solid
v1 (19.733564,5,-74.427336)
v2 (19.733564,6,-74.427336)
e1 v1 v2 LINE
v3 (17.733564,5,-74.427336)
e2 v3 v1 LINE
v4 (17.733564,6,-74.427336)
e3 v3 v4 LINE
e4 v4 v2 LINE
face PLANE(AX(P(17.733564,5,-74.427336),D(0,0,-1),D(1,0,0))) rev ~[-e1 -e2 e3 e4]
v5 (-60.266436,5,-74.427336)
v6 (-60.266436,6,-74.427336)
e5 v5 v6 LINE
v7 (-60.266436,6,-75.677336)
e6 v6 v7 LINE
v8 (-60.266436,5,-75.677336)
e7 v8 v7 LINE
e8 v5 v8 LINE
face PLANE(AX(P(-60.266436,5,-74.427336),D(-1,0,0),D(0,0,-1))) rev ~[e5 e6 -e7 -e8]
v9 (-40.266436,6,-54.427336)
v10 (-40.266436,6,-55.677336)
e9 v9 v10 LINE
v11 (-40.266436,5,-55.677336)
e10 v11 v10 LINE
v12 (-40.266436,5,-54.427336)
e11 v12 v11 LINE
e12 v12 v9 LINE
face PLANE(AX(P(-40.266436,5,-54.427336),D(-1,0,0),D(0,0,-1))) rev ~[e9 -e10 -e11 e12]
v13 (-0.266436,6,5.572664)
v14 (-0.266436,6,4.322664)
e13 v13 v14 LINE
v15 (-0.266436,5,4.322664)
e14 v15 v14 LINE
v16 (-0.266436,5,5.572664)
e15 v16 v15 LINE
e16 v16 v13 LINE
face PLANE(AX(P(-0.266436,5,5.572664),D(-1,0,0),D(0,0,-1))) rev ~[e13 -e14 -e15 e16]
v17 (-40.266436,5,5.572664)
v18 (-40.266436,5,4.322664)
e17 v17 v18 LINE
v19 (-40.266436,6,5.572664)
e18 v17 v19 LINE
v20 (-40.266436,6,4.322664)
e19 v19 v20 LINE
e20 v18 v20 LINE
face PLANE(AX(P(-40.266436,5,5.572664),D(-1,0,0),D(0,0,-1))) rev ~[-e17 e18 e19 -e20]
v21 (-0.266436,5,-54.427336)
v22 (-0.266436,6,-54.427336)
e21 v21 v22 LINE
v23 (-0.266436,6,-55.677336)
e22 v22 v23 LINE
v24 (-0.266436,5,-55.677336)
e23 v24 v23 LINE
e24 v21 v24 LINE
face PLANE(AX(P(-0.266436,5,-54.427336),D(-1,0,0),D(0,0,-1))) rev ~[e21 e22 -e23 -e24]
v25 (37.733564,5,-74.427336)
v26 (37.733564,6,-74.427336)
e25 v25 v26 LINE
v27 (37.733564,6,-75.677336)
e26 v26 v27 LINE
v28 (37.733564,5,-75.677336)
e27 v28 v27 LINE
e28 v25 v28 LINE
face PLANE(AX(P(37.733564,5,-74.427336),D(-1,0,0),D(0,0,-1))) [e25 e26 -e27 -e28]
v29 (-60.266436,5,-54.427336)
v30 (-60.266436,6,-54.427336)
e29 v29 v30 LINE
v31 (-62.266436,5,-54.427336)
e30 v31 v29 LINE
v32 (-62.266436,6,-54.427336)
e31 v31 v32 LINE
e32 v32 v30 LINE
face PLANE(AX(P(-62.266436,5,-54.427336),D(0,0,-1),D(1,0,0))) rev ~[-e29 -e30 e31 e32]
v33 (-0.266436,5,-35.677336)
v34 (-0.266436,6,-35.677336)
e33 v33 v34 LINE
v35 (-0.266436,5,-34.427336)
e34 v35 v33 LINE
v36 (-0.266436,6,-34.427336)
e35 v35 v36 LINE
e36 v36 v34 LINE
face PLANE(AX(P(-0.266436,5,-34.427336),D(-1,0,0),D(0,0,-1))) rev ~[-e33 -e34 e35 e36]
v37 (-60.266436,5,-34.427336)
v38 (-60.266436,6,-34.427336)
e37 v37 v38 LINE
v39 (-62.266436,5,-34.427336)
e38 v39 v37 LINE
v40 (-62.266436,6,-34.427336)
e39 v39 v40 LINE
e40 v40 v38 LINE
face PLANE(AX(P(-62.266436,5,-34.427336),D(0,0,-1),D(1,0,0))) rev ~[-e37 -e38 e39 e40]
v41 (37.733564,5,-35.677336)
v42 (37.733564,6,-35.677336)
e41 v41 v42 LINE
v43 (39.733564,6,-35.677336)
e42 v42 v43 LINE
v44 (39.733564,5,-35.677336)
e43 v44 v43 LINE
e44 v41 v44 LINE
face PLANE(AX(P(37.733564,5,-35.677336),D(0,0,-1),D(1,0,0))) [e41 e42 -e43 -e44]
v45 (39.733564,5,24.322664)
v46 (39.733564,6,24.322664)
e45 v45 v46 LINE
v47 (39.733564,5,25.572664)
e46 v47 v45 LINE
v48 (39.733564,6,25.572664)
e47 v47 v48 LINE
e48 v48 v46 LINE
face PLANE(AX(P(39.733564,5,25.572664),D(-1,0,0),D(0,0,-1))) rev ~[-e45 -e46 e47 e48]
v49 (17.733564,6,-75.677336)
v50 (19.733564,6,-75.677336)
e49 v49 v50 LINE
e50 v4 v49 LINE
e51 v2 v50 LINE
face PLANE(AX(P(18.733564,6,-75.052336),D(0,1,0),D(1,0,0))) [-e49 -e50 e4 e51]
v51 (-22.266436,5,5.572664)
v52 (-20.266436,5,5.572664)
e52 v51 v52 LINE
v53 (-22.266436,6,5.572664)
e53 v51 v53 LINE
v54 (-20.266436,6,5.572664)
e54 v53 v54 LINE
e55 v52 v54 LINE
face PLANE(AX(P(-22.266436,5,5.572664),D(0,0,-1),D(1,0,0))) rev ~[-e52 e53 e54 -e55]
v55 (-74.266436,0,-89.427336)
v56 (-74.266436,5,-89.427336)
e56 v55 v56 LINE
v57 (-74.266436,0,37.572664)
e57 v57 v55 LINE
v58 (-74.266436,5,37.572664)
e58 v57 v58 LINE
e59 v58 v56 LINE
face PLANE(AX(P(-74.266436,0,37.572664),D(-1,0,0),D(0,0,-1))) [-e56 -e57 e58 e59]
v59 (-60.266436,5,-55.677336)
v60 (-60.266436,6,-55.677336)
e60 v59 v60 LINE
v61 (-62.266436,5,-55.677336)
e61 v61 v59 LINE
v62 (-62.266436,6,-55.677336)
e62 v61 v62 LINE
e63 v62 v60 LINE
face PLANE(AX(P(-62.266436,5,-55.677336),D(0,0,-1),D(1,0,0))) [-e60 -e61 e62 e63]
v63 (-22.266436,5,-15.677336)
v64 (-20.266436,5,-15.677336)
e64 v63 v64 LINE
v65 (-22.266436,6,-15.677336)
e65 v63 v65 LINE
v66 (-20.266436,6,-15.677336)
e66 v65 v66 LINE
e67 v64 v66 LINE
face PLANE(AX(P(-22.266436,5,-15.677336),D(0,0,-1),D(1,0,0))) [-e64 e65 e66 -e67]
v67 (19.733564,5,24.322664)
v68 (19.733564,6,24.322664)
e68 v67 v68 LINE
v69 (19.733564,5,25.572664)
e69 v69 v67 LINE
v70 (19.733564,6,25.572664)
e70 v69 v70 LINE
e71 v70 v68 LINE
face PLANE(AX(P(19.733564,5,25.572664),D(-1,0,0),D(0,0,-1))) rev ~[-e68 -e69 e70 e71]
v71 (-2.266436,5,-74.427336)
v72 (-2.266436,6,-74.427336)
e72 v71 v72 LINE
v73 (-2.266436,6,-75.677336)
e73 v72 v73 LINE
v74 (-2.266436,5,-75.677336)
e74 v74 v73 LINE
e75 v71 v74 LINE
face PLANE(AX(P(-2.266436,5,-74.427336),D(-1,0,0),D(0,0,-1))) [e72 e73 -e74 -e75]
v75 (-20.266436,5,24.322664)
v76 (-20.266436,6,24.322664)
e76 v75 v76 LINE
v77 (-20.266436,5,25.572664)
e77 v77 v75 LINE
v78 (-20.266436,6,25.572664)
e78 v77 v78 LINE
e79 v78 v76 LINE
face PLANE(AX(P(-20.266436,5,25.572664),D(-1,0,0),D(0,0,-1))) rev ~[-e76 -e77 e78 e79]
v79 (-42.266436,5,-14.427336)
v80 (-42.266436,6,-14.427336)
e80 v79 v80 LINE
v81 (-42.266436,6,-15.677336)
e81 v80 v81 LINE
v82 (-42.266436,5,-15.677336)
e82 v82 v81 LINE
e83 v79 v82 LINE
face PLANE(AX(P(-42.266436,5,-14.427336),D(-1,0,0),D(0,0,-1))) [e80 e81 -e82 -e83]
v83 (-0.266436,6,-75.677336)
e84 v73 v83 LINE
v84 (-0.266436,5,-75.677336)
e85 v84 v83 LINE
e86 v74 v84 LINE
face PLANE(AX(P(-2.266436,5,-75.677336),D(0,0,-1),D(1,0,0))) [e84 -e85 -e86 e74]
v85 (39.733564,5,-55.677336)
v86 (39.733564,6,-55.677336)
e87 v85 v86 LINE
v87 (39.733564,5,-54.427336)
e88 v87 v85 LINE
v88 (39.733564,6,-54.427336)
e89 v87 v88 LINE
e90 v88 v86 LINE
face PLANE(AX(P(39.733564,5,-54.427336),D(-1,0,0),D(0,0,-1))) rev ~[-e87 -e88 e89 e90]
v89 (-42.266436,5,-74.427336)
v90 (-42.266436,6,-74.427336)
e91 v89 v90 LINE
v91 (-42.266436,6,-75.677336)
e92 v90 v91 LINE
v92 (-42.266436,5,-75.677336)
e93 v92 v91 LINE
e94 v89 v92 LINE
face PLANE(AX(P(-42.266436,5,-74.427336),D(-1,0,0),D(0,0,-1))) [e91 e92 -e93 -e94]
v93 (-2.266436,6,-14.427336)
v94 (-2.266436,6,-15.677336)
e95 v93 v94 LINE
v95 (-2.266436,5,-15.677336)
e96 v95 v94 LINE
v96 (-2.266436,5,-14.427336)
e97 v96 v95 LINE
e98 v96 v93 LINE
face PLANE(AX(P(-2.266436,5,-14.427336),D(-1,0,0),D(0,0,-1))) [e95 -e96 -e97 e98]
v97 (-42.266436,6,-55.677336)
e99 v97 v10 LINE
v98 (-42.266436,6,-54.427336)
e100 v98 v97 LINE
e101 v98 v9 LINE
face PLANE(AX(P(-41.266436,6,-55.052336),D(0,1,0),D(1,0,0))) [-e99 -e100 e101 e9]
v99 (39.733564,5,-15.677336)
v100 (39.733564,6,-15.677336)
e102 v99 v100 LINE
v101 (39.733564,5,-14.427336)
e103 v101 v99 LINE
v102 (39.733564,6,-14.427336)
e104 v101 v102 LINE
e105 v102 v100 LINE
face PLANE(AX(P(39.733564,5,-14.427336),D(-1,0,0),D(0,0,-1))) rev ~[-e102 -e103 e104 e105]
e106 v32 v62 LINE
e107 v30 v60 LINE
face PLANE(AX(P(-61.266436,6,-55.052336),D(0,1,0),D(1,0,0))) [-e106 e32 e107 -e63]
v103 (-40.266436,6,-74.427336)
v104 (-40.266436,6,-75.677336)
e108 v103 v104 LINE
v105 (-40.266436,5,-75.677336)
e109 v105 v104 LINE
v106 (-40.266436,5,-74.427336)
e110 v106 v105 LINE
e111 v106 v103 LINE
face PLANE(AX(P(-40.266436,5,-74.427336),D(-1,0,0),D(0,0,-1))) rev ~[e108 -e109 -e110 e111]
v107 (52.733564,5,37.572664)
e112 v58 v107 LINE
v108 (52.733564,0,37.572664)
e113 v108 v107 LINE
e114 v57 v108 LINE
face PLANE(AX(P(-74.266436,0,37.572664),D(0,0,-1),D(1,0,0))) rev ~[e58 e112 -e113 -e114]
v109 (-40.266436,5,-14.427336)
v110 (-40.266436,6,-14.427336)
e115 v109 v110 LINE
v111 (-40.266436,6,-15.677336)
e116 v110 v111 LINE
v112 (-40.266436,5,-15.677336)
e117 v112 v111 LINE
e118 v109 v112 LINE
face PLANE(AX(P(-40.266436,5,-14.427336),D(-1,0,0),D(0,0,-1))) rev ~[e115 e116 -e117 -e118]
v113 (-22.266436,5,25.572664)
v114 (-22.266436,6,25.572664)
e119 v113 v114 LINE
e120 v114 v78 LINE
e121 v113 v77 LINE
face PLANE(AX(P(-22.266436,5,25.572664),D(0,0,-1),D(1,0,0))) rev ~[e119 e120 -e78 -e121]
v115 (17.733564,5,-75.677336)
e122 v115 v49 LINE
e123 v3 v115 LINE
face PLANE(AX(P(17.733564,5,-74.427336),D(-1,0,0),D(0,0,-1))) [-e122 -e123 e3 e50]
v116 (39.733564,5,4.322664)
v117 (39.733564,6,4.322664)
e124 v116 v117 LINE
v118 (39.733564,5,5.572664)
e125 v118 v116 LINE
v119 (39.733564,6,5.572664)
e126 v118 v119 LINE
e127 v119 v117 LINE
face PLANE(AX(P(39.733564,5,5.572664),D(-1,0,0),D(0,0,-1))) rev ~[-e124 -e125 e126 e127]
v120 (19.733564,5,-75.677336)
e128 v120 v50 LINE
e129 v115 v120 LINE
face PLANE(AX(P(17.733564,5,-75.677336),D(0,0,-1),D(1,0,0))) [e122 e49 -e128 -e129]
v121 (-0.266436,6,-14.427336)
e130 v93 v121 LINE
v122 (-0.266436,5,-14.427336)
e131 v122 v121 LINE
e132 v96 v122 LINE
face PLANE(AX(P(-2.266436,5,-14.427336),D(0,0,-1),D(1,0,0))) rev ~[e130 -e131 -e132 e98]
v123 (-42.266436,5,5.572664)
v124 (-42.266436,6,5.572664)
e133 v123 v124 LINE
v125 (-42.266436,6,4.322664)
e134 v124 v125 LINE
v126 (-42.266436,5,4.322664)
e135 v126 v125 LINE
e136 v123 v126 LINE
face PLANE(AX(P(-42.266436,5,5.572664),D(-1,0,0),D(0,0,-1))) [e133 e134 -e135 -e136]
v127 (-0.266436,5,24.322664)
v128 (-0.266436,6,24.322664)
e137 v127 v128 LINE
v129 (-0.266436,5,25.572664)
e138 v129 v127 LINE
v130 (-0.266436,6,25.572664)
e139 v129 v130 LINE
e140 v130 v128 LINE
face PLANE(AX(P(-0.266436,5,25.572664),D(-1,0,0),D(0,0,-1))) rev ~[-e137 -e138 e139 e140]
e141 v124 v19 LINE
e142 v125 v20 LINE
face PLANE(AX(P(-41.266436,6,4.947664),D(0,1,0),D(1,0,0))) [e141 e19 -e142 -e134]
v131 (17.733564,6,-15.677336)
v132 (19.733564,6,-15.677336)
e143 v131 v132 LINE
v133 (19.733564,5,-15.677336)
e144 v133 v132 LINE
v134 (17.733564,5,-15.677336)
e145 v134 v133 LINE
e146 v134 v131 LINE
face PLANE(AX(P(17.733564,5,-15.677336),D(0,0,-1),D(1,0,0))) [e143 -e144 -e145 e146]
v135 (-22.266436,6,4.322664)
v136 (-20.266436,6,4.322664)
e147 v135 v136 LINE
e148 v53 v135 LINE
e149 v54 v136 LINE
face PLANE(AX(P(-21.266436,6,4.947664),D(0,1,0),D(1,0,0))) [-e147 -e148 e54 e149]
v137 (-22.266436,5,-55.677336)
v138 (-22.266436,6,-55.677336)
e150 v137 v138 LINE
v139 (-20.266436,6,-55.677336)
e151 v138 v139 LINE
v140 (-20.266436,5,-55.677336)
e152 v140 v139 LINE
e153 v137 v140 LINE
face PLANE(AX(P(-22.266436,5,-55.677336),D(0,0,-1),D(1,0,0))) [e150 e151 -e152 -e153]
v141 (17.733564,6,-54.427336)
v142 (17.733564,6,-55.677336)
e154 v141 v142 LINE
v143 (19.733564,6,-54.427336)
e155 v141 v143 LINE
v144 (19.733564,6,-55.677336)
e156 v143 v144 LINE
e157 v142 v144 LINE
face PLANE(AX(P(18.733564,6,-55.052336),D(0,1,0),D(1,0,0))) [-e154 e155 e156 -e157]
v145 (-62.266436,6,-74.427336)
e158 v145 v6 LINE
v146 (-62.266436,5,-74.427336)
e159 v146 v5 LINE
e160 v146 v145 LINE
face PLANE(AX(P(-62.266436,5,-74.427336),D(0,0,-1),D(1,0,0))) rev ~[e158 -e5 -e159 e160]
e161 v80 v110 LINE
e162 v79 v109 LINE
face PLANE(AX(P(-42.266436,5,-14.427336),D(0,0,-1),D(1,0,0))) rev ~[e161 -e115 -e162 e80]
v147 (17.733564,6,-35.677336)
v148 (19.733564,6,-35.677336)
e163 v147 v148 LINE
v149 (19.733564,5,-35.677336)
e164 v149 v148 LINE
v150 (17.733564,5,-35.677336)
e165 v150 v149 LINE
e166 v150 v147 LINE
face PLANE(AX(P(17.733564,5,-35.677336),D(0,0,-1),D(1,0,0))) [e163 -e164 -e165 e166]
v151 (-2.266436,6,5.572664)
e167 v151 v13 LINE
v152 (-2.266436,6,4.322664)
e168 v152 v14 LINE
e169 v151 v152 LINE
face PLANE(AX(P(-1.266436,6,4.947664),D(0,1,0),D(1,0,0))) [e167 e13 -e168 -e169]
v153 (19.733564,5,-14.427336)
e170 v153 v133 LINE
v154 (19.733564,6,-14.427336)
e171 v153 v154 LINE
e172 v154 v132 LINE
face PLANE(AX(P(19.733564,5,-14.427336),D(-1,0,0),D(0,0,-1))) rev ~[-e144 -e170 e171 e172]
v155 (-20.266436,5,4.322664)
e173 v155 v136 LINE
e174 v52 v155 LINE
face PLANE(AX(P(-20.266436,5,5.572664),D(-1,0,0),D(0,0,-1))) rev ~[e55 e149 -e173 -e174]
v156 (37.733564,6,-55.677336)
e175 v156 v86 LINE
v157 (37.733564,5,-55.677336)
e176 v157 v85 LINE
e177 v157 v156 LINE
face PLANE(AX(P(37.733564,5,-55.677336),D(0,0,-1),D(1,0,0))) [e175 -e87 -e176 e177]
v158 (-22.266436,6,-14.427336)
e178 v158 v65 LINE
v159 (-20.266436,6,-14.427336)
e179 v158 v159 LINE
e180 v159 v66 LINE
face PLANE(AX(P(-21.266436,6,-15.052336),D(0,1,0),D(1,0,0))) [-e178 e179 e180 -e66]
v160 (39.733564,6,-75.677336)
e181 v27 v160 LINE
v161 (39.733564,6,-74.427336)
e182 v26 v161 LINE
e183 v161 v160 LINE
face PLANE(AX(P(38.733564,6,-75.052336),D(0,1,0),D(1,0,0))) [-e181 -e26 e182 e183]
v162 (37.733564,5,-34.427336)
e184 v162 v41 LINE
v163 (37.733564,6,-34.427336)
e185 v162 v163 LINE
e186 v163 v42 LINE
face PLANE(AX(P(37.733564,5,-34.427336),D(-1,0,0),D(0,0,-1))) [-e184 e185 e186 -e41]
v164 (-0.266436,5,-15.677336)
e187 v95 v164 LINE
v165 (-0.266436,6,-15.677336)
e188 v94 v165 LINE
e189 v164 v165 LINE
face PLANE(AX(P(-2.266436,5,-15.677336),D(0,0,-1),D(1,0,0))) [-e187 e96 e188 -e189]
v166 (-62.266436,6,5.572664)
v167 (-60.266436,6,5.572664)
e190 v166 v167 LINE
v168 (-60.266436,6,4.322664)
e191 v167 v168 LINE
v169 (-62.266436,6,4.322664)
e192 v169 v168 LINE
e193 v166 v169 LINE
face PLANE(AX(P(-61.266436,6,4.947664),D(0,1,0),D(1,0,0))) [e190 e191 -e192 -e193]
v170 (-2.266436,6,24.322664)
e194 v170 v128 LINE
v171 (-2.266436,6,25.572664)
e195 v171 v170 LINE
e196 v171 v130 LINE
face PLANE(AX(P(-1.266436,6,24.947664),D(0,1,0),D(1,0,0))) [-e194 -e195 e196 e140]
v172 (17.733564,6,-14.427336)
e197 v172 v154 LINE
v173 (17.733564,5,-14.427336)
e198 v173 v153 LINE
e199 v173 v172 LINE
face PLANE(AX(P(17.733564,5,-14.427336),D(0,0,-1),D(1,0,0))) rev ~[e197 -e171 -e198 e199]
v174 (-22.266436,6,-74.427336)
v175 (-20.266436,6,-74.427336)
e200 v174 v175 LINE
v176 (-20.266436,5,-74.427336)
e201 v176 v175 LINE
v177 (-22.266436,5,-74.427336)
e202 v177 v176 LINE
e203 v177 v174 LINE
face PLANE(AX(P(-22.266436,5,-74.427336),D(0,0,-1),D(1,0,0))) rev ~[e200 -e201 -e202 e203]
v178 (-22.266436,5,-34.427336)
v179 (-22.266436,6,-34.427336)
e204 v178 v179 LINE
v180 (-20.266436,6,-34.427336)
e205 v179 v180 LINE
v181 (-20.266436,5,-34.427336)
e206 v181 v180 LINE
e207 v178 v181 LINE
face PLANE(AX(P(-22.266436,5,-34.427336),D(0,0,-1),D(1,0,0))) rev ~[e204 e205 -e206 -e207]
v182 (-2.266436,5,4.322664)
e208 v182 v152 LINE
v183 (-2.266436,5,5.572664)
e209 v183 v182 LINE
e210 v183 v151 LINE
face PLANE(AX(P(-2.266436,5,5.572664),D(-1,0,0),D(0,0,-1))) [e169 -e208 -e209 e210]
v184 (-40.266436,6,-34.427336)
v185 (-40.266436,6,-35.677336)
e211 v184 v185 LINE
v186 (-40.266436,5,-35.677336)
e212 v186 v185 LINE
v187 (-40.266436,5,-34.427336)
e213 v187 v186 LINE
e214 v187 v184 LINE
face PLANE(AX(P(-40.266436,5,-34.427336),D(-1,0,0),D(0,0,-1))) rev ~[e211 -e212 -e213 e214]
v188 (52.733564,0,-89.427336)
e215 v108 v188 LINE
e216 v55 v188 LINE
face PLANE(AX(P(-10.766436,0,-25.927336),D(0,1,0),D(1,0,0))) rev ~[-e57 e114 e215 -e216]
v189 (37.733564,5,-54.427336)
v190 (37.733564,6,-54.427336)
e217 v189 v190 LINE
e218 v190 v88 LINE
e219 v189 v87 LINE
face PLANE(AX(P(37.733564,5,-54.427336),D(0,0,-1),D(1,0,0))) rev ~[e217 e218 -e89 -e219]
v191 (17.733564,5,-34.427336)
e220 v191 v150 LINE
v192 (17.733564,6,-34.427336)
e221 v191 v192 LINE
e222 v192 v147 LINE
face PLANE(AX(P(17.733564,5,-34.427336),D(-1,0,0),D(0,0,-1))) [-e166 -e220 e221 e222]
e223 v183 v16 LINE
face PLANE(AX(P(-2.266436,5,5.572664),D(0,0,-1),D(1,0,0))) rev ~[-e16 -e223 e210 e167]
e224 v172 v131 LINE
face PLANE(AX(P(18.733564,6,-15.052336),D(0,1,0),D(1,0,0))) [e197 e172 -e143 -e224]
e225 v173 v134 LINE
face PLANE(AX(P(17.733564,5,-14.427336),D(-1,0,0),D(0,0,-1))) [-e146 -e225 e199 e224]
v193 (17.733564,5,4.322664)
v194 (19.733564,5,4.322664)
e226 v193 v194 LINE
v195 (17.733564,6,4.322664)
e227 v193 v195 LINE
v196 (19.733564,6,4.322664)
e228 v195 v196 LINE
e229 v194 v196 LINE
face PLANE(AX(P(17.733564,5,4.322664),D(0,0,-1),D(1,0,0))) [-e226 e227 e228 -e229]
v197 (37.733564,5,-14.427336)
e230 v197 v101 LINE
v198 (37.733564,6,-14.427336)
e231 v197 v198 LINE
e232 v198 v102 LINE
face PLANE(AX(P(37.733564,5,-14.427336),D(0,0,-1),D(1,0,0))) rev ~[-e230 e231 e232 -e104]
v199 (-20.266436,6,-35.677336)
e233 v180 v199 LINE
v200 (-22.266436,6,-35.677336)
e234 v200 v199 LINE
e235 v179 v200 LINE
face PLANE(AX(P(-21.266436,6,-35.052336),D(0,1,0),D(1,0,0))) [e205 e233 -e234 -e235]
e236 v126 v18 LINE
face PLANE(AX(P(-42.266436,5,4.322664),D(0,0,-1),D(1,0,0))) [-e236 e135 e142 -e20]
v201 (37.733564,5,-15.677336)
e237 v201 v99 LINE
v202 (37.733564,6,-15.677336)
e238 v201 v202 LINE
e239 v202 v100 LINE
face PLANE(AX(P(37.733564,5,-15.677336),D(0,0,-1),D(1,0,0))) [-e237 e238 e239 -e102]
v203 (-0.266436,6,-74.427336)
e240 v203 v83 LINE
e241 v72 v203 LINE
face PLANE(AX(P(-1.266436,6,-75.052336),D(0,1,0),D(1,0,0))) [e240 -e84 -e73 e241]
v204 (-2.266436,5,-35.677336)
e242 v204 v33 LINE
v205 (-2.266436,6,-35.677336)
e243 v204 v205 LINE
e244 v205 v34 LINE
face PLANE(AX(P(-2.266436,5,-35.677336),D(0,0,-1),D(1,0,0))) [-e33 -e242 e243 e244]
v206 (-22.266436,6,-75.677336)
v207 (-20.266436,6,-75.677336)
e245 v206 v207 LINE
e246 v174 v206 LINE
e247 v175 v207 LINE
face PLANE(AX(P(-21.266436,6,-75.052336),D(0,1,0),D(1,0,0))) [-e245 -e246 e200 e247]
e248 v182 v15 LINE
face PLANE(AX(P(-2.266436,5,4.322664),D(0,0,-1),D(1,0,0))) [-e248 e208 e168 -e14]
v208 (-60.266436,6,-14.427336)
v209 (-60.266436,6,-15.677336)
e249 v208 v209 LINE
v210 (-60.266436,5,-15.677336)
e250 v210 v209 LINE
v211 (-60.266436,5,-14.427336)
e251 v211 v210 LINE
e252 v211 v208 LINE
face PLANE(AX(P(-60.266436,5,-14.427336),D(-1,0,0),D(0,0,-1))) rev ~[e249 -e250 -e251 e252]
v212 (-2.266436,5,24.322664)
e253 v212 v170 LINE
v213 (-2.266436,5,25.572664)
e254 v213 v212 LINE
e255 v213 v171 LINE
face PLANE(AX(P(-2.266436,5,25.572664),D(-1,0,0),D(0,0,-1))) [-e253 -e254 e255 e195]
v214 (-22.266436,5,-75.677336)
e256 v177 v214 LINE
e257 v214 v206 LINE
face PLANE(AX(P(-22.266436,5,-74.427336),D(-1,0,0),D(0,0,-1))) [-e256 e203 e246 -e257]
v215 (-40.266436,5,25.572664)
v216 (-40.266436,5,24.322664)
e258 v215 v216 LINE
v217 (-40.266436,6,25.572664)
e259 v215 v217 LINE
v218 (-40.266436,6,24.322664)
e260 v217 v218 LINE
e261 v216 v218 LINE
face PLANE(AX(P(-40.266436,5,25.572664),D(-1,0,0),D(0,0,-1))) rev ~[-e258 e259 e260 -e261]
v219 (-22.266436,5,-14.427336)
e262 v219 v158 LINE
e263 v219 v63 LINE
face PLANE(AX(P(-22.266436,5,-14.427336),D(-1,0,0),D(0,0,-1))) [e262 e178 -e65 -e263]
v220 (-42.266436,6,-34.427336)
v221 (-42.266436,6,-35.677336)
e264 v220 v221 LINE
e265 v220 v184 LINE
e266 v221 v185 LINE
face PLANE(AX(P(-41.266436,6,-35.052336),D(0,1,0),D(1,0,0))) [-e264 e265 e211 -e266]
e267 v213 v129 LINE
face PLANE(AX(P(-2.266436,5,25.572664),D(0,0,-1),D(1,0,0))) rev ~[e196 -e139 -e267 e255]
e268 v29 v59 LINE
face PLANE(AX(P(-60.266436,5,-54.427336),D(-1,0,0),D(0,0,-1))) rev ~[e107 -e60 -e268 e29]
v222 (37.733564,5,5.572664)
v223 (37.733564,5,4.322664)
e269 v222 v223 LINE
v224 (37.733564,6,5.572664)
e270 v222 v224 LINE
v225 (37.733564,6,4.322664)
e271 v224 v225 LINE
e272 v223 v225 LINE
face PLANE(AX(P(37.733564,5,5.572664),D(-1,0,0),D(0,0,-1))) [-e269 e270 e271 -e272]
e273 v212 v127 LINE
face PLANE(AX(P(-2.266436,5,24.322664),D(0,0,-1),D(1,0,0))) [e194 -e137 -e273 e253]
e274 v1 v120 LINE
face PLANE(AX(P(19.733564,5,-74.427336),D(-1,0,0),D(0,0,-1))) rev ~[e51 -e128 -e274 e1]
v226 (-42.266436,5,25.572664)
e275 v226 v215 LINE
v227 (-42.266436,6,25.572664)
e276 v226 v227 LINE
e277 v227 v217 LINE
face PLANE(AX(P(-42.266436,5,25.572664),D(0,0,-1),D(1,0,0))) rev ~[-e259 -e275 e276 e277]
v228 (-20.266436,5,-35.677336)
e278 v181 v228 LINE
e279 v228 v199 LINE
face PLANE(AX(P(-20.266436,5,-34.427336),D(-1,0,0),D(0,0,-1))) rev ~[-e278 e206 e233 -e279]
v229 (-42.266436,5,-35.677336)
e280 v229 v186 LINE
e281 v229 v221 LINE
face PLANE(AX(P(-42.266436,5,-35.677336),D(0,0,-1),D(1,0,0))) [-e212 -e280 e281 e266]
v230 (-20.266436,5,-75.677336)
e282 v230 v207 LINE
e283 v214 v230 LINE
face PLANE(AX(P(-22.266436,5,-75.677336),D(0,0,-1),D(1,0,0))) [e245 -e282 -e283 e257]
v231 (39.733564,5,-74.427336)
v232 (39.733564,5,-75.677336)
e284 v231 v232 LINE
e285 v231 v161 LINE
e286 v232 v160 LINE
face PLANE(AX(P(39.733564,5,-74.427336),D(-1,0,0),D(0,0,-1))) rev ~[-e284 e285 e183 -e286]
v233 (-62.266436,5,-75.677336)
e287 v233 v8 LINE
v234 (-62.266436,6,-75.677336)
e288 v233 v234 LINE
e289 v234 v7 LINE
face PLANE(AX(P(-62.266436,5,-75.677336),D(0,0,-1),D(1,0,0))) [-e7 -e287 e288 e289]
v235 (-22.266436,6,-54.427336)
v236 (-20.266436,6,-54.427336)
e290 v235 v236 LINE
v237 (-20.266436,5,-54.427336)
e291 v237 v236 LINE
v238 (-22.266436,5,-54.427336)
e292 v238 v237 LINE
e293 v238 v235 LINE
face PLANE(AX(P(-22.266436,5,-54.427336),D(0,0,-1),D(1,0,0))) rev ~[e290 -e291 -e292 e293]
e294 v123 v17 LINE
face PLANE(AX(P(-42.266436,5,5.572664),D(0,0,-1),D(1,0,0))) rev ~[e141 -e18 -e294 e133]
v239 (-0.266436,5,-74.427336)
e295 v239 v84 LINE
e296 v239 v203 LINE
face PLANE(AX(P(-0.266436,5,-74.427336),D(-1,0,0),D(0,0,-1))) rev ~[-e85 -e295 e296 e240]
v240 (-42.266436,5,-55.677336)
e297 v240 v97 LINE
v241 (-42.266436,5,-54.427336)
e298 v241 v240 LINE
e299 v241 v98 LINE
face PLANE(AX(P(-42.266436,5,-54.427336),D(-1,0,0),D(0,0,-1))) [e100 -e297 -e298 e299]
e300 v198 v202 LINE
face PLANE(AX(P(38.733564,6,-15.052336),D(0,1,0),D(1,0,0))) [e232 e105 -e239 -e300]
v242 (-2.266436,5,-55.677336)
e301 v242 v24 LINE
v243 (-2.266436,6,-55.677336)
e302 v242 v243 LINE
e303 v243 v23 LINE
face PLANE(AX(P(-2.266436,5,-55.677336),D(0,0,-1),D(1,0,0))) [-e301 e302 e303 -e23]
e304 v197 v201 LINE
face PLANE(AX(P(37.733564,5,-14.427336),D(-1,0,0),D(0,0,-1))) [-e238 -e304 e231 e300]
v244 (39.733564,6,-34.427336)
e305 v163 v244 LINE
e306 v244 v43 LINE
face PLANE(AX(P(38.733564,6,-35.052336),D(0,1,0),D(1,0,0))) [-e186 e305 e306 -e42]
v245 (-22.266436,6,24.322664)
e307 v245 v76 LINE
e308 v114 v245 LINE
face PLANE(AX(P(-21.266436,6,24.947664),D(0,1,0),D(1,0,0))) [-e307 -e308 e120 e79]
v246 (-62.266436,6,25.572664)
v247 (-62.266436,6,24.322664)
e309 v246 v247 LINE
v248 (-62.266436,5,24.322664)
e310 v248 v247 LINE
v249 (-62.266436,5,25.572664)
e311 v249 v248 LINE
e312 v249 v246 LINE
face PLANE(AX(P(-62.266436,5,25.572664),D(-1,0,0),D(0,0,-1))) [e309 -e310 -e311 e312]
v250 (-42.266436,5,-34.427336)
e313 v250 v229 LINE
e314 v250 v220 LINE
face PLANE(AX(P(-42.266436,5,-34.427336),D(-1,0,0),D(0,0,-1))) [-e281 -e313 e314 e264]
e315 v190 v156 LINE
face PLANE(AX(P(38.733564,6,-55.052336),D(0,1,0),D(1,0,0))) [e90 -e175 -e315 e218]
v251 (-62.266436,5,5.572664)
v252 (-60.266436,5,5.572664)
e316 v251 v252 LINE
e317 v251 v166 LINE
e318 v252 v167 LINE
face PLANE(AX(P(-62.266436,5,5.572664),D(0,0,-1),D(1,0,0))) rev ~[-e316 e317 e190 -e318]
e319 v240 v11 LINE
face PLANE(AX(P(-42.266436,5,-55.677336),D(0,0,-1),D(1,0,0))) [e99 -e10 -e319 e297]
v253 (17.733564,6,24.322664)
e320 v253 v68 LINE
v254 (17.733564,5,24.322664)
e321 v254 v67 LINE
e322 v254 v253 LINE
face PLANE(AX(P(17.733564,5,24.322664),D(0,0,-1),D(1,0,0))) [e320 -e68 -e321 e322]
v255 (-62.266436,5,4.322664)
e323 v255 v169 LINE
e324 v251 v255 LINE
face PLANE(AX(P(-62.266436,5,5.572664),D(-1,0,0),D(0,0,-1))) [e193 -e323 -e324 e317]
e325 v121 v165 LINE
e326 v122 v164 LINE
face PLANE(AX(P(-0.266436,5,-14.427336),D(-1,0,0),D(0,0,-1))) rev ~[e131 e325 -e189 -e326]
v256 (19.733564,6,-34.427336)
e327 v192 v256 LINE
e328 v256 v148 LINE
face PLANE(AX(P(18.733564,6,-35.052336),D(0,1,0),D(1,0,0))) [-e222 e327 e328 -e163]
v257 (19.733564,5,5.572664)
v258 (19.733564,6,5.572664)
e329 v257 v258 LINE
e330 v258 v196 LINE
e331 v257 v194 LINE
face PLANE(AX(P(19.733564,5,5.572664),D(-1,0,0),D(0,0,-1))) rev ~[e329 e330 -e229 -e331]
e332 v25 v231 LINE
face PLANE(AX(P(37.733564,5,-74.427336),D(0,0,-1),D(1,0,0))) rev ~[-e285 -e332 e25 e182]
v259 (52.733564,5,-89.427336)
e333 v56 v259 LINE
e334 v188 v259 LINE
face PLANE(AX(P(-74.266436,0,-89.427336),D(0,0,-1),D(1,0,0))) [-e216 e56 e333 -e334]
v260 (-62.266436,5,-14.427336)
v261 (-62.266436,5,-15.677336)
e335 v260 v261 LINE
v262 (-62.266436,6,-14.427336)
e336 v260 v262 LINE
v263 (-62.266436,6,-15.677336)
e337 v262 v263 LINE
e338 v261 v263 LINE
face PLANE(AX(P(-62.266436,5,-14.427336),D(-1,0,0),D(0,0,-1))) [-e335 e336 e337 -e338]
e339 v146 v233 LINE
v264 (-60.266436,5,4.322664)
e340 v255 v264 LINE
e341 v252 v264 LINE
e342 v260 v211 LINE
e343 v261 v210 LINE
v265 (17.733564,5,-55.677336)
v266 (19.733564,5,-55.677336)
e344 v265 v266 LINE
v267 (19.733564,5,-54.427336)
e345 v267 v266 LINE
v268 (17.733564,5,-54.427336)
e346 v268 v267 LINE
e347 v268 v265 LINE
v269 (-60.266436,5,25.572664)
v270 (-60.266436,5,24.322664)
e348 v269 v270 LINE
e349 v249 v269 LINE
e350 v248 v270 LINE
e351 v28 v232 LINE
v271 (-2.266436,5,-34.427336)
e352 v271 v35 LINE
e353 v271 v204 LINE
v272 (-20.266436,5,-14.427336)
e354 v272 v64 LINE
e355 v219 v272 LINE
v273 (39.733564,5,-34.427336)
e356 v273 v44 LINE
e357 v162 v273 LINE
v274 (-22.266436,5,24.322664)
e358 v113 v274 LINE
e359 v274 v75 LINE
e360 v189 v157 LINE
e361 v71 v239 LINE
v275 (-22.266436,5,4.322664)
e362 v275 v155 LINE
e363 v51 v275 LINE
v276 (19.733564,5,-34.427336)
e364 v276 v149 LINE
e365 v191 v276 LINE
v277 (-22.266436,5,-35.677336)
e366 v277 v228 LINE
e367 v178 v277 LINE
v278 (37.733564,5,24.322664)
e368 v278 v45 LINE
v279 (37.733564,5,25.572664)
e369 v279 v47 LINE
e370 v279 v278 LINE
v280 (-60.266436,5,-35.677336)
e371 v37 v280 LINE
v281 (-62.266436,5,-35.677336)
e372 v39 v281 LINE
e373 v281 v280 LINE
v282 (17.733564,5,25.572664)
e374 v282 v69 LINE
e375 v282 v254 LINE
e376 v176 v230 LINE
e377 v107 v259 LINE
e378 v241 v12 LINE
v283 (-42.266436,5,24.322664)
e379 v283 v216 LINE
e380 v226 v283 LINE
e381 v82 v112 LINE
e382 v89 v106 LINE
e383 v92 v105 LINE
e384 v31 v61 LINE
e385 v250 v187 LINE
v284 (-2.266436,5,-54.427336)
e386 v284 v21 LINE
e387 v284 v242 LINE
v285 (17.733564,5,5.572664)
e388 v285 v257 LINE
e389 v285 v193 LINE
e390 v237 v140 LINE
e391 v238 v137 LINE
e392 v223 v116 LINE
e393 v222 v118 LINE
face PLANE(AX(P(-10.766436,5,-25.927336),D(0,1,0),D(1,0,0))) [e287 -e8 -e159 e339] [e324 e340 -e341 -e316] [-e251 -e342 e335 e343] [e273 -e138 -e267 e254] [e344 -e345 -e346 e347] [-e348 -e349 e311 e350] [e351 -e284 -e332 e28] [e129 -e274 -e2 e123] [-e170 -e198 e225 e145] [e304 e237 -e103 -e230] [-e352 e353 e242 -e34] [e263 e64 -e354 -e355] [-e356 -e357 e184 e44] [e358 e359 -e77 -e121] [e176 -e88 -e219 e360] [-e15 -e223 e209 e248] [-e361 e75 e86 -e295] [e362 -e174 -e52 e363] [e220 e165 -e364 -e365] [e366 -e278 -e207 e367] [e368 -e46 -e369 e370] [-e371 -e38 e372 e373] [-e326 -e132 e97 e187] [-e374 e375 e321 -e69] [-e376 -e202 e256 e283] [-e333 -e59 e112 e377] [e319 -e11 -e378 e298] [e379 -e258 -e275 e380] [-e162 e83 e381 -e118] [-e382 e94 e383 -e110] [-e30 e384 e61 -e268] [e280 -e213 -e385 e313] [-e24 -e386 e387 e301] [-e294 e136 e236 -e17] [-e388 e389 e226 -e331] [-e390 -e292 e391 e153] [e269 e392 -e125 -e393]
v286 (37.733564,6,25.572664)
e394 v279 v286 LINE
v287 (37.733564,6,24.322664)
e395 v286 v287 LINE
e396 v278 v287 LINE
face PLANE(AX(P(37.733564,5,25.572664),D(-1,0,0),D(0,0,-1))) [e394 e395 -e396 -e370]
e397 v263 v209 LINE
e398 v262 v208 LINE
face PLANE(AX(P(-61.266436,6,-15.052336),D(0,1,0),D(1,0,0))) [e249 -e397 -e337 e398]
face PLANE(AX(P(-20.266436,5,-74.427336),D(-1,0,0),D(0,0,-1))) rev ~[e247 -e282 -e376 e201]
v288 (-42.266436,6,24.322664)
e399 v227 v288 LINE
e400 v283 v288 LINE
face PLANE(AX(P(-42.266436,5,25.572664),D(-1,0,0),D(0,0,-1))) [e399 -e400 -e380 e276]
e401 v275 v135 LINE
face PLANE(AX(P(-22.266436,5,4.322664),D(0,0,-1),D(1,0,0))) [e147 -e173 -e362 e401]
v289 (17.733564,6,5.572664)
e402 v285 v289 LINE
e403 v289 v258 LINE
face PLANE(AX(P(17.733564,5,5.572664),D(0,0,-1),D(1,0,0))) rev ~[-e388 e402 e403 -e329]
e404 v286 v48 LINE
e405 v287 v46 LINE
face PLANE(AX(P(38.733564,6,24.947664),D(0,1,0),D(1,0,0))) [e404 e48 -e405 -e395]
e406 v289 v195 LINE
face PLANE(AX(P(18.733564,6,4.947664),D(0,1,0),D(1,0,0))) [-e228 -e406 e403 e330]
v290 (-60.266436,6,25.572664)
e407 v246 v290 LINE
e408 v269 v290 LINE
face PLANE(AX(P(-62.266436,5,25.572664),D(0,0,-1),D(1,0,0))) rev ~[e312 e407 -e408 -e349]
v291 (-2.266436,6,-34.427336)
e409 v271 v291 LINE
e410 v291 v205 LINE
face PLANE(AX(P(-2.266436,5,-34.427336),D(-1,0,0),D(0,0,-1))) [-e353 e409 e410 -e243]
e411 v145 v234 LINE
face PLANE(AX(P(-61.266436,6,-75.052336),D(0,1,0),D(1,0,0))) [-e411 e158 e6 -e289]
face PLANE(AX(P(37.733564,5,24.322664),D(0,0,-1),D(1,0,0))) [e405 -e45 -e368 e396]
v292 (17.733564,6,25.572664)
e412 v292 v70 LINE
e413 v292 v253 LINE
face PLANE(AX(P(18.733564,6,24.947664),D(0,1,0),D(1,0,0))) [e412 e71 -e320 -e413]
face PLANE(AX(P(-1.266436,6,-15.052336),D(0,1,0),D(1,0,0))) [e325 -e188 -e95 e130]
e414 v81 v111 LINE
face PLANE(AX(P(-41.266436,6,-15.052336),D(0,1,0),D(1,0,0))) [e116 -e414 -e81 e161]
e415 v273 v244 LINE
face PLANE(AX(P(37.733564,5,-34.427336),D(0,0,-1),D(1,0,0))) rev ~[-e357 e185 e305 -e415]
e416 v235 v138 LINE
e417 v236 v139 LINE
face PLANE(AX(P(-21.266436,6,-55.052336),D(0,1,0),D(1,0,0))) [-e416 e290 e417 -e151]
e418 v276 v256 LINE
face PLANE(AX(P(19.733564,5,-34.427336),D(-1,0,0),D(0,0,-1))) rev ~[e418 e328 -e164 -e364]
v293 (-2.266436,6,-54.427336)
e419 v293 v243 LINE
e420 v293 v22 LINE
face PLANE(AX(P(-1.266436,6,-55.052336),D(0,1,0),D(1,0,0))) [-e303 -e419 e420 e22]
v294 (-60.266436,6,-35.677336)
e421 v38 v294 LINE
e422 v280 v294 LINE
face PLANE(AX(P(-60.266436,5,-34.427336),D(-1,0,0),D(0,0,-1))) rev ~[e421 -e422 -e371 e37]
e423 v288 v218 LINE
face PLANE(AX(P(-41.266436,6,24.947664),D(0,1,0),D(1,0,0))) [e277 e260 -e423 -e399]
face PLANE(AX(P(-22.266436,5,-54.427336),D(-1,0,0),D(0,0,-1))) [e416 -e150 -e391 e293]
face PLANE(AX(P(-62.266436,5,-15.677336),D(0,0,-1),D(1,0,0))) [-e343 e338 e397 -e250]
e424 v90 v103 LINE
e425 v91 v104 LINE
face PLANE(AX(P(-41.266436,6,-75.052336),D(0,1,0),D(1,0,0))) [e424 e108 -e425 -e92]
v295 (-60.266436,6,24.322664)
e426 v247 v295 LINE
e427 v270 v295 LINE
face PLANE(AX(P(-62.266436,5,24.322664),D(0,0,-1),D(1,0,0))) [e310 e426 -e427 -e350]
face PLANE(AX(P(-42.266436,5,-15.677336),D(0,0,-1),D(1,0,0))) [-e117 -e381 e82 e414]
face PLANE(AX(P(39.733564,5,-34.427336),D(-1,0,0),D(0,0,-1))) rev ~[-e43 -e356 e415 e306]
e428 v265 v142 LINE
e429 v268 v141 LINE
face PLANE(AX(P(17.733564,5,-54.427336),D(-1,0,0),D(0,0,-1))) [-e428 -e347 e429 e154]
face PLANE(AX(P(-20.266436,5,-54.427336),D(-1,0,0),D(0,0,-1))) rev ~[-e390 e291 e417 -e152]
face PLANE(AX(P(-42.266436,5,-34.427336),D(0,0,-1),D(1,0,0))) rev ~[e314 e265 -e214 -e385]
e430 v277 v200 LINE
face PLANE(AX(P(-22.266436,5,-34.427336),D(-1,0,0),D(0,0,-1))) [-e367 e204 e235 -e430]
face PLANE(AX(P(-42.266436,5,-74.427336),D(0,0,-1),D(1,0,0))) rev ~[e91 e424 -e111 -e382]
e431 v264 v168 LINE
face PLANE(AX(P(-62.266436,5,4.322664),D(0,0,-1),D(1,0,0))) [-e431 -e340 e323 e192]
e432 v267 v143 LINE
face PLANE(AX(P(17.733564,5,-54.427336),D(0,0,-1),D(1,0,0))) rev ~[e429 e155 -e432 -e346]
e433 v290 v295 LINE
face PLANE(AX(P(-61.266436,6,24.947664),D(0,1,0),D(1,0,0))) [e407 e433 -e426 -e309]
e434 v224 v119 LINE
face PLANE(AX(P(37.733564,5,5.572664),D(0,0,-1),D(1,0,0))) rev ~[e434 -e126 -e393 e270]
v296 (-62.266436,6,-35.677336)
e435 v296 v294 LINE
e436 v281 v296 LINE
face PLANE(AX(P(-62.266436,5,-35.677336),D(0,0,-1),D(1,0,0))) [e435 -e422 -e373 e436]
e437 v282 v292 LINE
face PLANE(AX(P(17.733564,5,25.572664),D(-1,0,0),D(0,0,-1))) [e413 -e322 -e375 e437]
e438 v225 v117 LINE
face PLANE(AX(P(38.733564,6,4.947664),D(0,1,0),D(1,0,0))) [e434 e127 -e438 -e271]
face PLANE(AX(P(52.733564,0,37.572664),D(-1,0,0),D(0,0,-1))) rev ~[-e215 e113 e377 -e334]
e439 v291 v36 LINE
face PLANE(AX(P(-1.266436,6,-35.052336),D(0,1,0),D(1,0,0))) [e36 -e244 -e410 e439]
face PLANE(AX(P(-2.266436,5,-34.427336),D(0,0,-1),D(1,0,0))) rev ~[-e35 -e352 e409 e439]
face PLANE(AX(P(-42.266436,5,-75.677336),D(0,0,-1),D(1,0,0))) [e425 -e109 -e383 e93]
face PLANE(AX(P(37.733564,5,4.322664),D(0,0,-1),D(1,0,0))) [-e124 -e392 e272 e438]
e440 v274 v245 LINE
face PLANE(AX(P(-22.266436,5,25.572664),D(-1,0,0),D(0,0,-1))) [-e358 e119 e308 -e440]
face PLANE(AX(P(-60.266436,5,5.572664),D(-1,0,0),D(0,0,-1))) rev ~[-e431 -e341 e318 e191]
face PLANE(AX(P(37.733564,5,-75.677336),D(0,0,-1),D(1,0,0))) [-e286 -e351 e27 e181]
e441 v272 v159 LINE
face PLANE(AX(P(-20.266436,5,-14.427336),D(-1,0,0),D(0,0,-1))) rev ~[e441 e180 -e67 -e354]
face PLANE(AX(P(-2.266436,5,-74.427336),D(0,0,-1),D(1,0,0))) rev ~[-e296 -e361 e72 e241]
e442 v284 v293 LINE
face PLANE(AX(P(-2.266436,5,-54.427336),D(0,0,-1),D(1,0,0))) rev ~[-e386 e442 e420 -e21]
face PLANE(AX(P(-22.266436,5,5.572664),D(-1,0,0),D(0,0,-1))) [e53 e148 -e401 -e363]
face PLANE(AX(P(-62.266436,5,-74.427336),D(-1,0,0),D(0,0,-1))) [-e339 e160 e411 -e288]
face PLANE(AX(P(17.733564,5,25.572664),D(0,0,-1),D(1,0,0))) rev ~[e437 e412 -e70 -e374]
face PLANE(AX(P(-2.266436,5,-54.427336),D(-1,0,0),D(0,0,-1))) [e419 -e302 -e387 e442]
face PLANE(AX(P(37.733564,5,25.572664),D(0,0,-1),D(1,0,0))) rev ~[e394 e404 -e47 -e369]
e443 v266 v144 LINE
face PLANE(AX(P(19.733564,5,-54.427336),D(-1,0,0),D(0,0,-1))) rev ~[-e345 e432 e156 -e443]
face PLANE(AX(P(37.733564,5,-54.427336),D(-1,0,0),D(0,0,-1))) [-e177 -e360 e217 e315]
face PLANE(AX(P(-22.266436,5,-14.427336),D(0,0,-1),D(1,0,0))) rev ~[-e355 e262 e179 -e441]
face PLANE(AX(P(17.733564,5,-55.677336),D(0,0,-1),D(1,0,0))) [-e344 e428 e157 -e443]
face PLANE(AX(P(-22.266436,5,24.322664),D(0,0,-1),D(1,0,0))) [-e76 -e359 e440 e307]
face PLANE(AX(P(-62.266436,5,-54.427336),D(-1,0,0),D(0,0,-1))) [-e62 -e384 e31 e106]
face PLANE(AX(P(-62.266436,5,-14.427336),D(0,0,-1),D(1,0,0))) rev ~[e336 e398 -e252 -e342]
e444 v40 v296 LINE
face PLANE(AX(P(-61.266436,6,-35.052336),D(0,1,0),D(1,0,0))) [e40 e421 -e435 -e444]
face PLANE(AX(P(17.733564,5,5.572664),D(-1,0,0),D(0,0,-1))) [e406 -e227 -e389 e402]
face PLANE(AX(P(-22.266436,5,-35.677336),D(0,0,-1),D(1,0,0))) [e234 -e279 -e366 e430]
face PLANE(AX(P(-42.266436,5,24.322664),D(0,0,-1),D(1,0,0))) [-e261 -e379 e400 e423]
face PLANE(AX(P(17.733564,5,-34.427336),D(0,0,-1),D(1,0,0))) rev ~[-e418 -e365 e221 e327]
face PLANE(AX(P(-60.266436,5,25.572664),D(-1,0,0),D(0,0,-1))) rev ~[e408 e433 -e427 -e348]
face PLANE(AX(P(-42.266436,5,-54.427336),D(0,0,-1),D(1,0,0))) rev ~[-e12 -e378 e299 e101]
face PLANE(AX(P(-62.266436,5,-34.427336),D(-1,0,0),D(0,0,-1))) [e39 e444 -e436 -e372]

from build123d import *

# Parameters (mm, degrees)
SKETCH4_W           = 127
SKETCH4_H           = 127
BOSS_EXTRUDE5_DEPTH = 5
SKETCH5_W           = 2
SKETCH5_H           = 1.25
BOSS_EXTRUDE6_DEPTH = 1


with BuildPart() as part:
    # Sketch4 → Boss-Extrude5 (new body)
    with BuildSketch(Plane(origin=(0, 0, 0), x_dir=(1, 0, 0), z_dir=(0, 1, 0))):
        with Locations((-10.766435986, 25.92733564)):
            Rectangle(SKETCH4_W, SKETCH4_H)
    extrude(amount=BOSS_EXTRUDE5_DEPTH)

    # Sketch5 → Boss-Extrude6 (add)
    with BuildSketch(Plane(origin=(0, 5, 0), x_dir=(1, 0, 0), z_dir=(0, 1, 0))):
        with Locations((-41.266435986, -24.94766436)):
            Rectangle(SKETCH5_W, SKETCH5_H)
        with Locations((-61.266435986, -24.94766436)):
            Rectangle(SKETCH5_W, SKETCH5_H)
        with Locations((-21.266435986, -24.94766436)):
            Rectangle(SKETCH5_W, SKETCH5_H)
        with Locations((-1.266435986, -24.94766436)):
            Rectangle(SKETCH5_W, SKETCH5_H)
        with Locations((18.733564014, -24.94766436)):
            Rectangle(SKETCH5_W, SKETCH5_H)
        with Locations((38.733564014, -24.94766436)):
            Rectangle(SKETCH5_W, SKETCH5_H)
        with Locations((-41.266435986, -4.94766436)):
            Rectangle(SKETCH5_W, SKETCH5_H)
        with Locations((-21.266435986, -4.94766436)):
            Rectangle(SKETCH5_W, SKETCH5_H)
        with Locations((-1.266435986, -4.94766436)):
            Rectangle(SKETCH5_W, SKETCH5_H)
        with Locations((18.733564014, -4.94766436)):
            Rectangle(SKETCH5_W, SKETCH5_H)
        with Locations((38.733564014, -4.94766436)):
            Rectangle(SKETCH5_W, SKETCH5_H)
        with Locations((-41.266435986, 15.05233564)):
            Rectangle(SKETCH5_W, SKETCH5_H)
        with Locations((-21.266435986, 15.05233564)):
            Rectangle(SKETCH5_W, SKETCH5_H)
        with Locations((-1.266435986, 15.05233564)):
            Rectangle(SKETCH5_W, SKETCH5_H)
        with Locations((18.733564014, 15.05233564)):
            Rectangle(SKETCH5_W, SKETCH5_H)
        with Locations((38.733564014, 15.05233564)):
            Rectangle(SKETCH5_W, SKETCH5_H)
        with Locations((-41.266435986, 35.05233564)):
            Rectangle(SKETCH5_W, SKETCH5_H)
        with Locations((-21.266435986, 35.05233564)):
            Rectangle(SKETCH5_W, SKETCH5_H)
        with Locations((-1.266435986, 35.05233564)):
            Rectangle(SKETCH5_W, SKETCH5_H)
        with Locations((18.733564014, 35.05233564)):
            Rectangle(SKETCH5_W, SKETCH5_H)
        with Locations((38.733564014, 35.05233564)):
            Rectangle(SKETCH5_W, SKETCH5_H)
        with Locations((-41.266435986, 55.05233564)):
            Rectangle(SKETCH5_W, SKETCH5_H)
        with Locations((-21.266435986, 55.05233564)):
            Rectangle(SKETCH5_W, SKETCH5_H)
        with Locations((-1.266435986, 55.05233564)):
            Rectangle(SKETCH5_W, SKETCH5_H)
        with Locations((18.733564014, 55.05233564)):
            Rectangle(SKETCH5_W, SKETCH5_H)
        with Locations((38.733564014, 55.05233564)):
            Rectangle(SKETCH5_W, SKETCH5_H)
        with Locations((-41.266435986, 75.05233564)):
            Rectangle(SKETCH5_W, SKETCH5_H)
        with Locations((-21.266435986, 75.05233564)):
            Rectangle(SKETCH5_W, SKETCH5_H)
        with Locations((-1.266435986, 75.05233564)):
            Rectangle(SKETCH5_W, SKETCH5_H)
        with Locations((18.733564014, 75.05233564)):
            Rectangle(SKETCH5_W, SKETCH5_H)
        with Locations((38.733564014, 75.05233564)):
            Rectangle(SKETCH5_W, SKETCH5_H)
        with Locations((-61.266435986, -4.94766436)):
            Rectangle(SKETCH5_W, SKETCH5_H)
        with Locations((-61.266435986, 15.05233564)):
            Rectangle(SKETCH5_W, SKETCH5_H)
        with Locations((-61.266435986, 35.05233564)):
            Rectangle(SKETCH5_W, SKETCH5_H)
        with Locations((-61.266435986, 55.05233564)):
            Rectangle(SKETCH5_W, SKETCH5_H)
        with Locations((-61.266435986, 75.05233564)):
            Rectangle(SKETCH5_W, SKETCH5_H)
    extrude(amount=BOSS_EXTRUDE6_DEPTH)


solid = part.part
